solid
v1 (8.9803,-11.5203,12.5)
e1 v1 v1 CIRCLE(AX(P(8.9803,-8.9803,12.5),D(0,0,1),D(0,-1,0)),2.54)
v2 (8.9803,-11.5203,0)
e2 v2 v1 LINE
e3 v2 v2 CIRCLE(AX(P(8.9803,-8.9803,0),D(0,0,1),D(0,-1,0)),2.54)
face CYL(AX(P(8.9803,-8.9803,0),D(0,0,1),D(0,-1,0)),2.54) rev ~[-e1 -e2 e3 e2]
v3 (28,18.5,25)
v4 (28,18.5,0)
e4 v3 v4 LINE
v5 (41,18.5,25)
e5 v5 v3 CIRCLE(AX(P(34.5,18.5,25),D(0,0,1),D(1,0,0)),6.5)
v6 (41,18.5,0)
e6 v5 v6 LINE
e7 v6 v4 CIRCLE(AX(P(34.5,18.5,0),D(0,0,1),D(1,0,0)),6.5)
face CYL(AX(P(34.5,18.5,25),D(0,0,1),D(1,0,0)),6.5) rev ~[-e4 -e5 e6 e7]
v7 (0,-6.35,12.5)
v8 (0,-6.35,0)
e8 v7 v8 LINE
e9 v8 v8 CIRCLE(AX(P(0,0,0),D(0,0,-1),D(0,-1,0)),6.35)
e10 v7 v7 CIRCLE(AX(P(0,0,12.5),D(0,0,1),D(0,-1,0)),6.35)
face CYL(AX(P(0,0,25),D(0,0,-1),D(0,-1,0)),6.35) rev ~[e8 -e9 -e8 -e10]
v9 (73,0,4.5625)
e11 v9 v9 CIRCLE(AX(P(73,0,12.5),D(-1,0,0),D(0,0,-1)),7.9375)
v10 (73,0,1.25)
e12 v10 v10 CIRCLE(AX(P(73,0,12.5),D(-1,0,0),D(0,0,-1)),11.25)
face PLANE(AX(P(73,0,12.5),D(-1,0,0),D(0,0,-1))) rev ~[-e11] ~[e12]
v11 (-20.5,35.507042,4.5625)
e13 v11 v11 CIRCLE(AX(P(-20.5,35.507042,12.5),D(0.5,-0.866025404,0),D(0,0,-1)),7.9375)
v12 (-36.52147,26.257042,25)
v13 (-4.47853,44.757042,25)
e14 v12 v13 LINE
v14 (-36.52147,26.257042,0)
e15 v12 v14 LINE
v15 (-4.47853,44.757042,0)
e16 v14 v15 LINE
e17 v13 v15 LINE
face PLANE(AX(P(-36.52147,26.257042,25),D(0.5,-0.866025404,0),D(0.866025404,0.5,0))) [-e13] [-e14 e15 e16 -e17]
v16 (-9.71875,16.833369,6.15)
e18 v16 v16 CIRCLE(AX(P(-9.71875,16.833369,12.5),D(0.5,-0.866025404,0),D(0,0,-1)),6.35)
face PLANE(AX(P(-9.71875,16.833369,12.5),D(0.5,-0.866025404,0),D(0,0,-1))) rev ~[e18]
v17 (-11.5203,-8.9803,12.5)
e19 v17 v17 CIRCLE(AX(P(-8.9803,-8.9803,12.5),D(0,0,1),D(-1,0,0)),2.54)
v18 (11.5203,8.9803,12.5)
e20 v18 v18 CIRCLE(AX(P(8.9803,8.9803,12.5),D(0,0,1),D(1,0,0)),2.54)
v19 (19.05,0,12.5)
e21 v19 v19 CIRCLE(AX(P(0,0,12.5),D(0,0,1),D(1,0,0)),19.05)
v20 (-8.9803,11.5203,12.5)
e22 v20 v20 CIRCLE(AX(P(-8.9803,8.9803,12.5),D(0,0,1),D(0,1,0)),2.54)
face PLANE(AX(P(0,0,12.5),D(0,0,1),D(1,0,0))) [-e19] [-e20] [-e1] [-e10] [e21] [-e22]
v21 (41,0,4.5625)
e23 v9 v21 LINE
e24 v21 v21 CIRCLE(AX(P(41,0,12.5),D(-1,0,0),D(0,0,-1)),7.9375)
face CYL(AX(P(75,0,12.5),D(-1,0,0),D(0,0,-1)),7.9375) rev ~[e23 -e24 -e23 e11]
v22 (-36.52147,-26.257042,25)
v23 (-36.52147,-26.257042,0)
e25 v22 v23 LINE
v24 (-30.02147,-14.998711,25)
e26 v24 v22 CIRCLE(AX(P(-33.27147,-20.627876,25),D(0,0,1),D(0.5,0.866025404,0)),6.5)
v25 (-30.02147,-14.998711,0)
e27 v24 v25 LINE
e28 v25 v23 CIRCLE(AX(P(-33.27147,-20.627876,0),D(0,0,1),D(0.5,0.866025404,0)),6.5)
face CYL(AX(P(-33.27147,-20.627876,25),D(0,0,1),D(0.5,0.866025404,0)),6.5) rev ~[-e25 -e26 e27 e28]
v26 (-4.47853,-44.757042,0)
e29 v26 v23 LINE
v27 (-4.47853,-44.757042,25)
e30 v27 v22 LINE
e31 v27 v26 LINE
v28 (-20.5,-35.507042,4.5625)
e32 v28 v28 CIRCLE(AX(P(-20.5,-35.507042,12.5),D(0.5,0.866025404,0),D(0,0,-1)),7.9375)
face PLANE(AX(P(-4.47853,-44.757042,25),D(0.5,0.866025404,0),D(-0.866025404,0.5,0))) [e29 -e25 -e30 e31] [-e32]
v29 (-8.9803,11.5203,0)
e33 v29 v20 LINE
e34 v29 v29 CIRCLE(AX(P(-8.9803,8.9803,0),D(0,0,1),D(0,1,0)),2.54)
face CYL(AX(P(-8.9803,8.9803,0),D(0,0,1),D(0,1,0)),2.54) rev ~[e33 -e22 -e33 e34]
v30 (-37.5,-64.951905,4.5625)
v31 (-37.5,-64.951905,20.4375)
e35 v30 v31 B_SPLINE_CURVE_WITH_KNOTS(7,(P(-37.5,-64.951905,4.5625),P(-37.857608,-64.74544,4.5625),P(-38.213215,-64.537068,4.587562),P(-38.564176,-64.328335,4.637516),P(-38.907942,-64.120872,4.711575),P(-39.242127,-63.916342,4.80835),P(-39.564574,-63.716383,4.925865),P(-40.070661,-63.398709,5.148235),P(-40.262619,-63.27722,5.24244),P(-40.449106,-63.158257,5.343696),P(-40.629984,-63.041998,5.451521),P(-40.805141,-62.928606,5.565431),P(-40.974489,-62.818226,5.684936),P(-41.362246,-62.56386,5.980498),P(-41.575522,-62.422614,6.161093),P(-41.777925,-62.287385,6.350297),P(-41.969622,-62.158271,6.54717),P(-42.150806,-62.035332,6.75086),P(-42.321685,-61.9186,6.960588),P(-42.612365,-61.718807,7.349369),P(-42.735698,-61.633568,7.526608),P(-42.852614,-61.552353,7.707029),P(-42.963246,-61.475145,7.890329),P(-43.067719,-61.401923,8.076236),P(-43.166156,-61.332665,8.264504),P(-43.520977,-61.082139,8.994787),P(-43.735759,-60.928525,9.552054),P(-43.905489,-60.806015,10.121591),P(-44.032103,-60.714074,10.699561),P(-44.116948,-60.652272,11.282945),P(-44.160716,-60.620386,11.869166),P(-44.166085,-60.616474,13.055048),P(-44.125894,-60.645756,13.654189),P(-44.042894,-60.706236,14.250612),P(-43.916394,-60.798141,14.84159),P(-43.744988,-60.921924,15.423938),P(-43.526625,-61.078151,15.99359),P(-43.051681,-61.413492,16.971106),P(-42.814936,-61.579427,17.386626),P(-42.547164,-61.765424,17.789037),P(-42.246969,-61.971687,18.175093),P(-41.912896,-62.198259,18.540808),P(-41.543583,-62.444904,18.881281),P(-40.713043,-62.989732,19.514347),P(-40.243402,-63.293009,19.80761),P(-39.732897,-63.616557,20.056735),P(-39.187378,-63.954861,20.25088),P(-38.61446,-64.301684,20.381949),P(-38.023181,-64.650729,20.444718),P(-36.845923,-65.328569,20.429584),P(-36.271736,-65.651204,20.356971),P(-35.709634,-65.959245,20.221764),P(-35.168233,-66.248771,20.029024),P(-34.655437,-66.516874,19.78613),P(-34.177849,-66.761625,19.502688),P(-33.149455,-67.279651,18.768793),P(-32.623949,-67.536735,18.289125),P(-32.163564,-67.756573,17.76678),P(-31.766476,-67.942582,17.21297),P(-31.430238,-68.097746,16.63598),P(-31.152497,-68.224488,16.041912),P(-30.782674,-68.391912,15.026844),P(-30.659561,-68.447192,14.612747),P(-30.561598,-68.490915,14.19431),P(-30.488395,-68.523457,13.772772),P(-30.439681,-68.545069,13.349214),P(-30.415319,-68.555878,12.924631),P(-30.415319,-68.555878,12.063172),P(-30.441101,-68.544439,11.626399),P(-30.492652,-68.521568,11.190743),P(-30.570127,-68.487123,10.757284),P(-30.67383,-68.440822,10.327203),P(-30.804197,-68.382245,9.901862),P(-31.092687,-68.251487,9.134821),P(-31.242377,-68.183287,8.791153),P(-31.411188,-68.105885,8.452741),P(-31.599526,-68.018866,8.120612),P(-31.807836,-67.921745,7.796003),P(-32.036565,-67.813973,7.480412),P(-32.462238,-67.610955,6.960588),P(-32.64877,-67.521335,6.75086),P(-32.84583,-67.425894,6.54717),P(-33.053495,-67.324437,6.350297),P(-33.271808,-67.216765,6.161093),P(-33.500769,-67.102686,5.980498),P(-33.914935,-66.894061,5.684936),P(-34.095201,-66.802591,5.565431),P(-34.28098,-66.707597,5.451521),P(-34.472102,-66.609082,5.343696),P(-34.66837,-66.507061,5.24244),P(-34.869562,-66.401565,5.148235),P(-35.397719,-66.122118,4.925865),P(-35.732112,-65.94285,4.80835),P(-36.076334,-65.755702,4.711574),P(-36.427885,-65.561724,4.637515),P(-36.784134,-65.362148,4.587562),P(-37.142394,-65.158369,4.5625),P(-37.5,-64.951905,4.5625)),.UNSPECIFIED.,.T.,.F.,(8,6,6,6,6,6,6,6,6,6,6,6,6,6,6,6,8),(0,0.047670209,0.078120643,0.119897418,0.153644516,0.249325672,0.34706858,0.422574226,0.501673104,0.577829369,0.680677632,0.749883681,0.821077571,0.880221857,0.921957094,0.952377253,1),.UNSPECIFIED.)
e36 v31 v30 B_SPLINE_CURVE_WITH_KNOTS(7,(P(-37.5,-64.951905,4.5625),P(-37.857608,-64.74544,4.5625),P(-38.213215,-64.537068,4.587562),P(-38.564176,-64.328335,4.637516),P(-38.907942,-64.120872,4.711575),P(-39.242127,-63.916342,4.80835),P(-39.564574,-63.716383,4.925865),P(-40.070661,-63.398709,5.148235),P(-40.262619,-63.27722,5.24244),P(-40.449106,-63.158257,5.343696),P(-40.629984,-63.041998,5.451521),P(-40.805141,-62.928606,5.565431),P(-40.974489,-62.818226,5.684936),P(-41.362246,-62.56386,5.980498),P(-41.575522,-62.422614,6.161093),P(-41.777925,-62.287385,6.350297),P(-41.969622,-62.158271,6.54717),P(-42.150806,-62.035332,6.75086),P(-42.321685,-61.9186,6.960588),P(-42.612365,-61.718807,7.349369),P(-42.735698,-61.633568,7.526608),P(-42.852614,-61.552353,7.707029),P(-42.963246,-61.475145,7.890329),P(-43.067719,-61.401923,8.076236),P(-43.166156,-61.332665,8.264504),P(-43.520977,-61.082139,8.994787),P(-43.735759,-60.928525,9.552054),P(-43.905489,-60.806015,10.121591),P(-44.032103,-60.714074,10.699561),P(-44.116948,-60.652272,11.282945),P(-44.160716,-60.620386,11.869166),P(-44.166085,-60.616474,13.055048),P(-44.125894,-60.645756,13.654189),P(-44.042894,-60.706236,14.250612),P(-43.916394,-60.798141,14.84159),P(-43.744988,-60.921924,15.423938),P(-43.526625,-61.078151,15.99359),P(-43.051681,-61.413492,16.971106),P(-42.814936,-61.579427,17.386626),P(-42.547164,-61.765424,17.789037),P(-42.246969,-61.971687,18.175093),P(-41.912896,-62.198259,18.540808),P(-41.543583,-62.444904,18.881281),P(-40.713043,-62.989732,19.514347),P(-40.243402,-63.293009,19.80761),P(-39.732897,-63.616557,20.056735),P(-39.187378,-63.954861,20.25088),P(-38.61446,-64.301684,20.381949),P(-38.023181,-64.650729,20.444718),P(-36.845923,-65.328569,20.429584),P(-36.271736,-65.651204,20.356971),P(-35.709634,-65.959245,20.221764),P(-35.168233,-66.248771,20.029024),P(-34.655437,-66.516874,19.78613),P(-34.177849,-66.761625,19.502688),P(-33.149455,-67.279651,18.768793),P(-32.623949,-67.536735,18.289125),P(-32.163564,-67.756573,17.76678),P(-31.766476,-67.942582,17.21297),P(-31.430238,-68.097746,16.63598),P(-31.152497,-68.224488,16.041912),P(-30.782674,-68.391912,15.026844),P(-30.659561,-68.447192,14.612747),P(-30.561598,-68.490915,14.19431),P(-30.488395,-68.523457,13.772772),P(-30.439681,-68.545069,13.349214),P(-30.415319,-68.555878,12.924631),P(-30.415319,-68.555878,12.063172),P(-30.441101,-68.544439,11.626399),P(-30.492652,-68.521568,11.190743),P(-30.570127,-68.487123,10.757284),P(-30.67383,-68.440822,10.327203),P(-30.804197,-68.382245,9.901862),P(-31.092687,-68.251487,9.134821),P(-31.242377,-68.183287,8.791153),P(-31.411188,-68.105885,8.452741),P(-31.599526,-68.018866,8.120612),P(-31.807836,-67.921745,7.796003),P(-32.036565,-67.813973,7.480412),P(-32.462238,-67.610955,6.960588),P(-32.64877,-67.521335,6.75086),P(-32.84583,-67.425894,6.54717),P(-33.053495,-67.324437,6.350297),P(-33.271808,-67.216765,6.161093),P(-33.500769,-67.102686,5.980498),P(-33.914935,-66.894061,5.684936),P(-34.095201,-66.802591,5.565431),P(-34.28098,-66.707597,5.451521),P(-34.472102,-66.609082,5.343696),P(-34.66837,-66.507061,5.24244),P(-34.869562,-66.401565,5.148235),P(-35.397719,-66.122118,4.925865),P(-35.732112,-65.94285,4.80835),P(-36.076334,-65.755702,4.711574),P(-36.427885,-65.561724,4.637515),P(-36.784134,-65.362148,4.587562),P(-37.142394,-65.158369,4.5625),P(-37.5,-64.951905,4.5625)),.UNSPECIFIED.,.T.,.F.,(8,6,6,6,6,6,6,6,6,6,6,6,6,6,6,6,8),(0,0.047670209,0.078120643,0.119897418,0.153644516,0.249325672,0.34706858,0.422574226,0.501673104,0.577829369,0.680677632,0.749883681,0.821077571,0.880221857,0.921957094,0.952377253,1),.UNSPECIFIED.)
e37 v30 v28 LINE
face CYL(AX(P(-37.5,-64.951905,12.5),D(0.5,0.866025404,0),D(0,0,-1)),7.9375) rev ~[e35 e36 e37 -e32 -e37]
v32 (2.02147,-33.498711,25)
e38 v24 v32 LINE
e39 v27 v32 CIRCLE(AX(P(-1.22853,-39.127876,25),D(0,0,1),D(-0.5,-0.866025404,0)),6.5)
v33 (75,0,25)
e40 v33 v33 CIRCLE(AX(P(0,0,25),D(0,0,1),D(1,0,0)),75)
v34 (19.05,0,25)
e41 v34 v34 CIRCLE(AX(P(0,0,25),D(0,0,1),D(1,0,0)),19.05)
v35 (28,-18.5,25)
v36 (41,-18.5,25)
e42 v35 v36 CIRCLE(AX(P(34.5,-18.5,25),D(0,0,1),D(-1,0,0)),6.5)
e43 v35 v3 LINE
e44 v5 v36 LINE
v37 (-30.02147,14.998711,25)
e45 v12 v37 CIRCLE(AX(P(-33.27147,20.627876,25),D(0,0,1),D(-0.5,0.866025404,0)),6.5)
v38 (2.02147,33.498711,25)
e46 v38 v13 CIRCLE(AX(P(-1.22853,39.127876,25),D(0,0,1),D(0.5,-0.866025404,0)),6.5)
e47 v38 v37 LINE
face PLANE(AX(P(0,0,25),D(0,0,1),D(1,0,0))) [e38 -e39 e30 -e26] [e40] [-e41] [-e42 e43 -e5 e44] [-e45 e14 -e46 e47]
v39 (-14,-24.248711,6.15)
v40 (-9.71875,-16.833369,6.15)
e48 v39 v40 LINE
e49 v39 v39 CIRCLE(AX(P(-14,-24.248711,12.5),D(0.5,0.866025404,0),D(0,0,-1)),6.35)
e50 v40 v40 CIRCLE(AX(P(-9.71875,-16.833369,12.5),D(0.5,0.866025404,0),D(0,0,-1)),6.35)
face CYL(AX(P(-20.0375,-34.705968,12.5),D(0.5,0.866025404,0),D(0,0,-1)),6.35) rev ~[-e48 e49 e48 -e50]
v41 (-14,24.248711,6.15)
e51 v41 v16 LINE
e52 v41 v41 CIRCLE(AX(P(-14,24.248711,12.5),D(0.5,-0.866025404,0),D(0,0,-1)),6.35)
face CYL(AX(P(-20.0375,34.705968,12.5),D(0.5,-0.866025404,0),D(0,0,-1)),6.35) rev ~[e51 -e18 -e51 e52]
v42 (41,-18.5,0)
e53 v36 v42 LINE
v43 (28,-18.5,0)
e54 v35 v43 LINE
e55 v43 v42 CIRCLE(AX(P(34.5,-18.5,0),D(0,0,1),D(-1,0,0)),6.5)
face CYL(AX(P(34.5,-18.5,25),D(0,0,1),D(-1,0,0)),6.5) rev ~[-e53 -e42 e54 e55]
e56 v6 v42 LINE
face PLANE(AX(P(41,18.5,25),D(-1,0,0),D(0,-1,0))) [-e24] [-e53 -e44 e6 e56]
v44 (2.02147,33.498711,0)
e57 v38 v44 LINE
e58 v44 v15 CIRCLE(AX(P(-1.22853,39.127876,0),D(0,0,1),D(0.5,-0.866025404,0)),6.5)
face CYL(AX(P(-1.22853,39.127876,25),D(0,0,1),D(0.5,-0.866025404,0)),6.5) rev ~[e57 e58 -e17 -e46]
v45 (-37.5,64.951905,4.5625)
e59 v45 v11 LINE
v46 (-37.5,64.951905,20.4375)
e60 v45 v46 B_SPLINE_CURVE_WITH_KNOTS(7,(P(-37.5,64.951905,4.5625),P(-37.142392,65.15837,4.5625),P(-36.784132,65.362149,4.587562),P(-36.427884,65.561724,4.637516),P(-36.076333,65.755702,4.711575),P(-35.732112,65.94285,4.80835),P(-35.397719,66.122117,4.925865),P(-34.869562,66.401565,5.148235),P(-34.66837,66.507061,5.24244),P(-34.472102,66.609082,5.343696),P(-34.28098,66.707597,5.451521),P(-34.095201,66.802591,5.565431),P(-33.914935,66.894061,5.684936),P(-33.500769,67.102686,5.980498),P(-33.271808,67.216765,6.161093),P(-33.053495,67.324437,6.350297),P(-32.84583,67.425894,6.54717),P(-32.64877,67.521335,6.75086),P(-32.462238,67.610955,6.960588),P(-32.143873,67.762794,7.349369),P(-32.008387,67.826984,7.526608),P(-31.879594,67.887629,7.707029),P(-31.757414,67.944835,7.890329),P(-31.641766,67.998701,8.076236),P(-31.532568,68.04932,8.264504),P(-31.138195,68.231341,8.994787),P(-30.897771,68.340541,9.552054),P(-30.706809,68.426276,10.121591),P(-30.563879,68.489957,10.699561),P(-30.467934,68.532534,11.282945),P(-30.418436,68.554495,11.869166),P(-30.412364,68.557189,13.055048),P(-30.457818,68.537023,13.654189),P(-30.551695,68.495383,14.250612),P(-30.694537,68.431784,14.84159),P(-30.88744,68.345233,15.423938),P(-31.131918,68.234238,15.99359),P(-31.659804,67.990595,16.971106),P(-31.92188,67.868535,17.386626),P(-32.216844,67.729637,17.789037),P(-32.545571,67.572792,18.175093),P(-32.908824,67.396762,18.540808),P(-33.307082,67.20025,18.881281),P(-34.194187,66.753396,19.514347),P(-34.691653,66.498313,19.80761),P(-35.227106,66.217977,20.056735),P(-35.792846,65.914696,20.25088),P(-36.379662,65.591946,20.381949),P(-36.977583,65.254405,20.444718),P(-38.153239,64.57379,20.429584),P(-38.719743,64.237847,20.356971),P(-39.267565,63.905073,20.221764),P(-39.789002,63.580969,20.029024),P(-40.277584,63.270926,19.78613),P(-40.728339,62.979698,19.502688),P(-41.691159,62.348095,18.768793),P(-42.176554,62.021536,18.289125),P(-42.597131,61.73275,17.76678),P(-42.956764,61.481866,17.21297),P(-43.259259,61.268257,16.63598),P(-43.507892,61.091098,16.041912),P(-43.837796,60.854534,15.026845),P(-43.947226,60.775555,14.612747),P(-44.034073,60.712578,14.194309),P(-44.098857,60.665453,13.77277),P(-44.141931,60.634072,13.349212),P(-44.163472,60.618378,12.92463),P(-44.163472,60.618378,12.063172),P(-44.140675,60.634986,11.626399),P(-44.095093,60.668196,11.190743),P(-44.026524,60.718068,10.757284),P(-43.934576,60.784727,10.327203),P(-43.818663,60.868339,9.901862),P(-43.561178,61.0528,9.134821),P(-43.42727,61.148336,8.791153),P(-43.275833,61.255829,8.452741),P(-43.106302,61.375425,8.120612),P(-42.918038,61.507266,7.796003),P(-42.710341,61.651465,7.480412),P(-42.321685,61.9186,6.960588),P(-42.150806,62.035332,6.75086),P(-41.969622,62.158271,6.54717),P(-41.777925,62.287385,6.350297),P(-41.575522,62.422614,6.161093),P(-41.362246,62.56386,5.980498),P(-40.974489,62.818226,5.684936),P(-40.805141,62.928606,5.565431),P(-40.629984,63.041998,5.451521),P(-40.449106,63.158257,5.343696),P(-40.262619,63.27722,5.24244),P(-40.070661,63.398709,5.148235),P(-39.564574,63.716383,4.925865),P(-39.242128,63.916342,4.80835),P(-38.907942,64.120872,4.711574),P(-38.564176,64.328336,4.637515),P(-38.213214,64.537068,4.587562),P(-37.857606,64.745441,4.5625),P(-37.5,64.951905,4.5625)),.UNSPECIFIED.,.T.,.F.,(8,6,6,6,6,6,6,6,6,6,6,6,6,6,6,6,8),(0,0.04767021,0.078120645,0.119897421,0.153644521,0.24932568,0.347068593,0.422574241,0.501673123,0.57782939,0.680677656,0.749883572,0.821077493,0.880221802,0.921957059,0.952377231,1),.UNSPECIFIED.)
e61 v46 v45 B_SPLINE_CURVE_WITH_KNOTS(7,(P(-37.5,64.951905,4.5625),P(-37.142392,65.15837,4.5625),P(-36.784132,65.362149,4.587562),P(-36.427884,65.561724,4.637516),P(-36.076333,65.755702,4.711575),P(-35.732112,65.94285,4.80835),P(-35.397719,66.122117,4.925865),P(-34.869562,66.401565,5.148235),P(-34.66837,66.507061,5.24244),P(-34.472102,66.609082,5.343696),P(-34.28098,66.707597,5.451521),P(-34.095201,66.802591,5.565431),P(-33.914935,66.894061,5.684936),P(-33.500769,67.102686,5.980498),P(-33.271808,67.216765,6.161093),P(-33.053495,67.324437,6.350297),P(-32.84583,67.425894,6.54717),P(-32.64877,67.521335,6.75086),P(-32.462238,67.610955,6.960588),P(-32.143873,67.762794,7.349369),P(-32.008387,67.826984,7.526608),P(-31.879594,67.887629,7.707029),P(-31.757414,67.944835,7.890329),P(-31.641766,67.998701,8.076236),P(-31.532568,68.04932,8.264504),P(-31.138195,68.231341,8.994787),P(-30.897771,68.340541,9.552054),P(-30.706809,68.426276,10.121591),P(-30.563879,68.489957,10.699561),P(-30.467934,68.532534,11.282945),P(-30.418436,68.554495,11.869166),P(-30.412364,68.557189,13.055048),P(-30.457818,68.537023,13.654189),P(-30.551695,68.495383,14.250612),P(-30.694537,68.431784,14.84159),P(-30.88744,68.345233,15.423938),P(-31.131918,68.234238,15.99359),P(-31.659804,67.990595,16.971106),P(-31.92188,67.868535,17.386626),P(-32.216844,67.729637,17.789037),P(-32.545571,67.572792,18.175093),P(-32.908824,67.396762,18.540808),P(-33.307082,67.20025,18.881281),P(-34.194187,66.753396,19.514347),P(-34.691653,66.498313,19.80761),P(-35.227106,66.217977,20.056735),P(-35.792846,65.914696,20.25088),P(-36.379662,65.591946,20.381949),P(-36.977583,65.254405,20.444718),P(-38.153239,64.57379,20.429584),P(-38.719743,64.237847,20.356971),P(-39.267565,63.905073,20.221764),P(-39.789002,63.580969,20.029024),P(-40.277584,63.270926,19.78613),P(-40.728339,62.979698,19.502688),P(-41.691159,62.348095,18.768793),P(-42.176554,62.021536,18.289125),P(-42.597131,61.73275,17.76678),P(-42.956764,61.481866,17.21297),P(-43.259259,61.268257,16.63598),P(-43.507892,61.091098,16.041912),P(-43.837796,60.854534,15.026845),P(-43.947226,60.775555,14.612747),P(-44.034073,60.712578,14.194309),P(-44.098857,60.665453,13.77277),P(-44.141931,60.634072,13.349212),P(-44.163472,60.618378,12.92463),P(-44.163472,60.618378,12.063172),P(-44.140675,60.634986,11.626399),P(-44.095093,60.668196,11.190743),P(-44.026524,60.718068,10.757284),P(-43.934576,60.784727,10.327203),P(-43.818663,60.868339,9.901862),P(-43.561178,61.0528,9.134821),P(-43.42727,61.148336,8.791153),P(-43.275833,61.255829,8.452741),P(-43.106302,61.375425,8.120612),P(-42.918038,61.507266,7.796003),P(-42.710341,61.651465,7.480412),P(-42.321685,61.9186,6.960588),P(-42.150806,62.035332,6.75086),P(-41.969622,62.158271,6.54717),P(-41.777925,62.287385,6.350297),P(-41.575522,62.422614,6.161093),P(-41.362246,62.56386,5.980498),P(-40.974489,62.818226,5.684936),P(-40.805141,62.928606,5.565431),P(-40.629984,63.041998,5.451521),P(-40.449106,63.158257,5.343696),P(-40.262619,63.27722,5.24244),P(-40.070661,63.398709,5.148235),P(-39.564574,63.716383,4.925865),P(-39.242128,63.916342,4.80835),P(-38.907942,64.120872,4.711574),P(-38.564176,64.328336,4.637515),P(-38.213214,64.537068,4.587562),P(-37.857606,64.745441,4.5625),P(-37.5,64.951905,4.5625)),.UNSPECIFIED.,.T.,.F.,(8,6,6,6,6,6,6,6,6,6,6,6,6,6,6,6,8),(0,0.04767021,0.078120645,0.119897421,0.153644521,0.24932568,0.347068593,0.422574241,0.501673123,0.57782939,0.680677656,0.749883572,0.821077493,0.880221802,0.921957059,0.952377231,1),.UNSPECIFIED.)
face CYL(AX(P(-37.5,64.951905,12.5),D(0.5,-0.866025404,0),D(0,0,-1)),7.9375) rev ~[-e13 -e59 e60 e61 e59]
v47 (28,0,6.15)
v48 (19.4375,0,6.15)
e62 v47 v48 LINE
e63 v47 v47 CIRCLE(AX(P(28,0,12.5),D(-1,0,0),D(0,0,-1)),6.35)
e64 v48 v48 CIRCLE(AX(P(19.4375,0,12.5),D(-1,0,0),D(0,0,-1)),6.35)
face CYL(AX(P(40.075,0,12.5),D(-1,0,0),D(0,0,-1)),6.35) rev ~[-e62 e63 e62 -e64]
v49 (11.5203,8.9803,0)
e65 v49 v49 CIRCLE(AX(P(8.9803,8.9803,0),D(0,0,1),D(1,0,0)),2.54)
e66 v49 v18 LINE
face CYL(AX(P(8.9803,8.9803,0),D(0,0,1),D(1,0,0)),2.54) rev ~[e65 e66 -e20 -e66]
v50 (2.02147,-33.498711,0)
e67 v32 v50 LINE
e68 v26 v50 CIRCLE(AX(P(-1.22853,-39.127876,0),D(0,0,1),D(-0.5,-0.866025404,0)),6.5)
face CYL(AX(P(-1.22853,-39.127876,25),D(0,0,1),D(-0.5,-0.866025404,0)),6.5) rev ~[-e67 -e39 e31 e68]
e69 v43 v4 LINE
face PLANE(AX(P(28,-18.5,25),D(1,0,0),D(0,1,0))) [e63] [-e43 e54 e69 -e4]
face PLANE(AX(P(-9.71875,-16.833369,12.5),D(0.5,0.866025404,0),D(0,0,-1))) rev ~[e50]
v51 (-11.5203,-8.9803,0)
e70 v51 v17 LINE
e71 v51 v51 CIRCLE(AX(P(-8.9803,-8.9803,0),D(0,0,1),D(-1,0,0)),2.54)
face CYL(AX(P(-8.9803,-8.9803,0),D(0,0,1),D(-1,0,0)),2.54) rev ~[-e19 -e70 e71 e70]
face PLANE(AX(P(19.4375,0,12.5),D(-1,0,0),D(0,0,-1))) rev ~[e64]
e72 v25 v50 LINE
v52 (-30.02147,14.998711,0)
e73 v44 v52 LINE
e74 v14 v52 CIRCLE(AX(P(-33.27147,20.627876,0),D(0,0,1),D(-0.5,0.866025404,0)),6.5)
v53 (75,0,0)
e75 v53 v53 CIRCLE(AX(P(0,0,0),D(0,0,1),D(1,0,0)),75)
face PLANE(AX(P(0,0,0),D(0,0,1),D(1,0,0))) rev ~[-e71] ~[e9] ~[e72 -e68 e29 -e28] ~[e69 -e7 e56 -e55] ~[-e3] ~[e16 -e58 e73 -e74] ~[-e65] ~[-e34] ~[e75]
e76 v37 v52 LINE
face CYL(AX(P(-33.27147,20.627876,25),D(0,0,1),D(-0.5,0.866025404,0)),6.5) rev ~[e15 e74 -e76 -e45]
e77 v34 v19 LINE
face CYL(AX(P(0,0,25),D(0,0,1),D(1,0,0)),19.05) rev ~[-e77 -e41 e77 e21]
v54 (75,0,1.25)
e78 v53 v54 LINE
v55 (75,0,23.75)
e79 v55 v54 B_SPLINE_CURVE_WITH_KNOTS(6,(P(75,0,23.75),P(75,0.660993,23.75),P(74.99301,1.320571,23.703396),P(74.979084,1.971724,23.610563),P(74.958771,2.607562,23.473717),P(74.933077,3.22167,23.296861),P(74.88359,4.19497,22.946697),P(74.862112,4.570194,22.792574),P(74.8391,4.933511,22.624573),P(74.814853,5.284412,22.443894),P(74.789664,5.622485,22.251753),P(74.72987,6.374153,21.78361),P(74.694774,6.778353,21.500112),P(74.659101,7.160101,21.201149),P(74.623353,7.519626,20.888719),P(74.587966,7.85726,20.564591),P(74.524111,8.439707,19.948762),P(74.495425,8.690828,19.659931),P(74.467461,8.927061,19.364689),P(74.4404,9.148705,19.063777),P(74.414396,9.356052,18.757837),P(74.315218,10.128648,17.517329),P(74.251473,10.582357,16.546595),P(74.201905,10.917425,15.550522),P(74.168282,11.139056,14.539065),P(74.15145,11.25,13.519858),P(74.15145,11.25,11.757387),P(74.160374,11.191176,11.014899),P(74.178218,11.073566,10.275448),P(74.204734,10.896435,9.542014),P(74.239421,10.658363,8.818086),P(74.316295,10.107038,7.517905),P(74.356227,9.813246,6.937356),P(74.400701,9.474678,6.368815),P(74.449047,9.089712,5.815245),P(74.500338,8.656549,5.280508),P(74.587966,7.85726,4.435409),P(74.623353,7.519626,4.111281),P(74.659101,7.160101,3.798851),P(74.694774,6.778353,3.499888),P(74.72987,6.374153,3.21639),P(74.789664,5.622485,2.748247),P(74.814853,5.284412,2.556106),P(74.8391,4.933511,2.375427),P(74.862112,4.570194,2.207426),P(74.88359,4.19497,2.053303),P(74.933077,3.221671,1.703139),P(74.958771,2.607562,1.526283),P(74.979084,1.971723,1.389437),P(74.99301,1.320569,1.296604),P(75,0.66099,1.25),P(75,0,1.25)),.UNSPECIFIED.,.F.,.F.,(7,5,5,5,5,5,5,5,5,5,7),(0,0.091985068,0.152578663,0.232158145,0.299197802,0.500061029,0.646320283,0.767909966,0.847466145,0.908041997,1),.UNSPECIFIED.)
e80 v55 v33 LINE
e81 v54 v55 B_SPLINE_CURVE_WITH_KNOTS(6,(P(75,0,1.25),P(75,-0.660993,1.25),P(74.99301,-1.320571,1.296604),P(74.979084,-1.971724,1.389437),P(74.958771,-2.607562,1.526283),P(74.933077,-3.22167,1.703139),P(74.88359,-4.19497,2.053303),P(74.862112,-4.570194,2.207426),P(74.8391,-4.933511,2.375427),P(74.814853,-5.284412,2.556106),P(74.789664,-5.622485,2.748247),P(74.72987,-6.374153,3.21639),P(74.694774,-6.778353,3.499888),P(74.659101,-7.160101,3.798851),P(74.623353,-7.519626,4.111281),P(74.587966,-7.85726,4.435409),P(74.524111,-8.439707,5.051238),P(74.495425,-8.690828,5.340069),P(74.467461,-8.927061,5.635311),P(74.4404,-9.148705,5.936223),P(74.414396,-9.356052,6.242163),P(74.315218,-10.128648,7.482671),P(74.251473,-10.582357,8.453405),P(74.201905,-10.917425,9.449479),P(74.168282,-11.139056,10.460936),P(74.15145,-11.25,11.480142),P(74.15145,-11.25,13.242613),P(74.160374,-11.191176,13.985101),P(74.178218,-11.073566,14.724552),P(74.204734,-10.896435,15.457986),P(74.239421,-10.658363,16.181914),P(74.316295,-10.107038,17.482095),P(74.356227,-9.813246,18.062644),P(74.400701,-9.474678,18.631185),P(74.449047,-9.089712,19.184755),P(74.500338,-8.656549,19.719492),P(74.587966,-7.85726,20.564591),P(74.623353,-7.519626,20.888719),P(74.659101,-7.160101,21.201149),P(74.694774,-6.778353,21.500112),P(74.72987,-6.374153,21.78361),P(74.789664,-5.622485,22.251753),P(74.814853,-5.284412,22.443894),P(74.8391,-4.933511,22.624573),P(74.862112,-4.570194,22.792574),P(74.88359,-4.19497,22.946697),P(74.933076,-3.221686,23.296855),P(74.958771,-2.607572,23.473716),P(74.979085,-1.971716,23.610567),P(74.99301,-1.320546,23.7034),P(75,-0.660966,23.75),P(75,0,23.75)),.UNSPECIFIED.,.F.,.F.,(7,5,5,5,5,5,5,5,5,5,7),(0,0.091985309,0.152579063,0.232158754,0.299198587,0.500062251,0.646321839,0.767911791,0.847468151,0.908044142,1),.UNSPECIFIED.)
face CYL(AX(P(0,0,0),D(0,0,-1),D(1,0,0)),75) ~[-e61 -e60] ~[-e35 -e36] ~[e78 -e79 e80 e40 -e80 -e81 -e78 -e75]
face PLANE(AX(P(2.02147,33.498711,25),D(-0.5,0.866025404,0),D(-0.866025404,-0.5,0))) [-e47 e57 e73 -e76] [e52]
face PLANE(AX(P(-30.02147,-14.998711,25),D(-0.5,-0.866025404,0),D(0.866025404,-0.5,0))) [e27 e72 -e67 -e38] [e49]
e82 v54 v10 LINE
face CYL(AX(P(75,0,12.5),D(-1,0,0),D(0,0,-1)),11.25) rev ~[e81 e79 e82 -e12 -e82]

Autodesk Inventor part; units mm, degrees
ref_plane "XZ Plane" through (0, 0, 0) normal (0, 1, 0) x (-1, 0, 0)
ref_plane "XY Plane" through (0, 0, 0) normal (0, 0, 1) x (1, 0, 0)
sketch "Sketch1" plane through (0, 0, 0) normal (0, 0, 1) x (1, 0, 0)
  circle A0 centre (0, 0) radius 75
  dimension "d114" = 150
extrude "Extrusion1" add sketch "Sketch1" along normal blind 25
ref_plane "HoleTangent" through (75, 0, 0) normal (1, 0, 0) x (0, 1, 0)
sketch "Sketch3" plane through (0, 0, 25) normal (0, 0, 1) x (1, 0, 0)
  point P0 (0, 0)
  point P1 (0, 0)
hole "Hole1" at (0, 0, 25) direction (0, 0, -1) diameter 12.7 end through all
sketch "Sketch6" plane through (0, 0, 25) normal (0, 0, 1) x (1, 0, 0)
  circle A0 centre (0, 0) radius 6.35 projected
  circle A1 centre (0, 0) radius 19.05
  dimension "d46" = 38.1
extrude "Extrusion4" cut sketch "Sketch6" against normal blind 12.5
sketch "Sketch7" plane through (0, 0, 0) normal (0, 0, -1) x (-1, 0, 0)
  circle A0 centre (0, 0) radius 6.35 projected
  circle A1 centre (0, 0) radius 12.7 construction
  line L0 (0, 0) -> (8.9803, 8.9803) construction
  line L1 (0, 0) -> (11.1003, 0) construction
  dimension "d49" = 25.4
  dimension "d50" = 45
hole "Hole3" at (-8.9803, 8.9803, 0) direction (0, 0, 1) diameter 5.08 end through all
pattern_circular "Circular Pattern3" count 4 over 360 about axis through (0, 0, -188.6001) along (0, 0, 1) of "Hole3"
sketch "Sketch5" plane through (75, 12.7, 25.4) normal (1, 0, 0) x (0, 0, -1)
  line L0 (30.48, -12.7) -> (-5.08, -12.7) projected
  point P0 (12.9, -12.7)
  point P1 (25.4, -12.7)
  dimension "d116" = 12.5
hole "Hole2" at (75, 0, 12.5) direction (-1, 0, 0) diameter 12.7 depth 55.5625 counterbore diameter 15.875 counterbore depth 34.925
sketch "Sketch4" plane through (0, 0, 25) normal (0, 0, 1) x (1, 0, 0)
  line L0 (41, 18.5) -> (41, -18.5)
  line L1 (28, -18.5) -> (28, 18.5)
  arc A0 (41, 18.5) -> (28, 18.5) centre (34.5, 18.5) ccw
  arc A1 (28, -18.5) -> (41, -18.5) centre (34.5, -18.5) ccw
  circle A2 centre (0, 0) radius 19.05 projected
  point P0 (28, 0)
  dimension "d22" = 50
  dimension "d24" = 6.5
  dimension "d62" = 34.5
extrude "Extrusion3" cut sketch "Sketch4" against normal through all contours L0 A1 L1 A0
pattern_circular "Circular Pattern2" count 3 over 360 about axis through (0, 0, -188.6001) along (0, 0, 1) of "Hole2", "Extrusion3"
sketch "Sketch8" plane through (0, 0, 25) normal (0, 0, 1) x (1, 0, 0)
  line L0 (-10.3502, -47.1424) -> (10.8733, -47.1424) construction
  line L1 (10.8733, -47.1424) -> (10.8733, -60.9041) construction
  line L2 (10.8733, -60.9041) -> (-10.3502, -60.9041) construction
  line L3 (-10.3502, -60.9041) -> (-10.3502, -47.1424) construction
  point P0 (0, 0)
hole "Hole4" at (75, 0, 12.5) direction (-1, 0, 0) diameter 22.5 depth 2
equation "\"d116\" = 0.5 * d2"
equation "\"d115\" = 0.5 * d114"
equation "\"d2\" = 25"
properties part number "PWTR-0032" material "Aluminum-6061"
